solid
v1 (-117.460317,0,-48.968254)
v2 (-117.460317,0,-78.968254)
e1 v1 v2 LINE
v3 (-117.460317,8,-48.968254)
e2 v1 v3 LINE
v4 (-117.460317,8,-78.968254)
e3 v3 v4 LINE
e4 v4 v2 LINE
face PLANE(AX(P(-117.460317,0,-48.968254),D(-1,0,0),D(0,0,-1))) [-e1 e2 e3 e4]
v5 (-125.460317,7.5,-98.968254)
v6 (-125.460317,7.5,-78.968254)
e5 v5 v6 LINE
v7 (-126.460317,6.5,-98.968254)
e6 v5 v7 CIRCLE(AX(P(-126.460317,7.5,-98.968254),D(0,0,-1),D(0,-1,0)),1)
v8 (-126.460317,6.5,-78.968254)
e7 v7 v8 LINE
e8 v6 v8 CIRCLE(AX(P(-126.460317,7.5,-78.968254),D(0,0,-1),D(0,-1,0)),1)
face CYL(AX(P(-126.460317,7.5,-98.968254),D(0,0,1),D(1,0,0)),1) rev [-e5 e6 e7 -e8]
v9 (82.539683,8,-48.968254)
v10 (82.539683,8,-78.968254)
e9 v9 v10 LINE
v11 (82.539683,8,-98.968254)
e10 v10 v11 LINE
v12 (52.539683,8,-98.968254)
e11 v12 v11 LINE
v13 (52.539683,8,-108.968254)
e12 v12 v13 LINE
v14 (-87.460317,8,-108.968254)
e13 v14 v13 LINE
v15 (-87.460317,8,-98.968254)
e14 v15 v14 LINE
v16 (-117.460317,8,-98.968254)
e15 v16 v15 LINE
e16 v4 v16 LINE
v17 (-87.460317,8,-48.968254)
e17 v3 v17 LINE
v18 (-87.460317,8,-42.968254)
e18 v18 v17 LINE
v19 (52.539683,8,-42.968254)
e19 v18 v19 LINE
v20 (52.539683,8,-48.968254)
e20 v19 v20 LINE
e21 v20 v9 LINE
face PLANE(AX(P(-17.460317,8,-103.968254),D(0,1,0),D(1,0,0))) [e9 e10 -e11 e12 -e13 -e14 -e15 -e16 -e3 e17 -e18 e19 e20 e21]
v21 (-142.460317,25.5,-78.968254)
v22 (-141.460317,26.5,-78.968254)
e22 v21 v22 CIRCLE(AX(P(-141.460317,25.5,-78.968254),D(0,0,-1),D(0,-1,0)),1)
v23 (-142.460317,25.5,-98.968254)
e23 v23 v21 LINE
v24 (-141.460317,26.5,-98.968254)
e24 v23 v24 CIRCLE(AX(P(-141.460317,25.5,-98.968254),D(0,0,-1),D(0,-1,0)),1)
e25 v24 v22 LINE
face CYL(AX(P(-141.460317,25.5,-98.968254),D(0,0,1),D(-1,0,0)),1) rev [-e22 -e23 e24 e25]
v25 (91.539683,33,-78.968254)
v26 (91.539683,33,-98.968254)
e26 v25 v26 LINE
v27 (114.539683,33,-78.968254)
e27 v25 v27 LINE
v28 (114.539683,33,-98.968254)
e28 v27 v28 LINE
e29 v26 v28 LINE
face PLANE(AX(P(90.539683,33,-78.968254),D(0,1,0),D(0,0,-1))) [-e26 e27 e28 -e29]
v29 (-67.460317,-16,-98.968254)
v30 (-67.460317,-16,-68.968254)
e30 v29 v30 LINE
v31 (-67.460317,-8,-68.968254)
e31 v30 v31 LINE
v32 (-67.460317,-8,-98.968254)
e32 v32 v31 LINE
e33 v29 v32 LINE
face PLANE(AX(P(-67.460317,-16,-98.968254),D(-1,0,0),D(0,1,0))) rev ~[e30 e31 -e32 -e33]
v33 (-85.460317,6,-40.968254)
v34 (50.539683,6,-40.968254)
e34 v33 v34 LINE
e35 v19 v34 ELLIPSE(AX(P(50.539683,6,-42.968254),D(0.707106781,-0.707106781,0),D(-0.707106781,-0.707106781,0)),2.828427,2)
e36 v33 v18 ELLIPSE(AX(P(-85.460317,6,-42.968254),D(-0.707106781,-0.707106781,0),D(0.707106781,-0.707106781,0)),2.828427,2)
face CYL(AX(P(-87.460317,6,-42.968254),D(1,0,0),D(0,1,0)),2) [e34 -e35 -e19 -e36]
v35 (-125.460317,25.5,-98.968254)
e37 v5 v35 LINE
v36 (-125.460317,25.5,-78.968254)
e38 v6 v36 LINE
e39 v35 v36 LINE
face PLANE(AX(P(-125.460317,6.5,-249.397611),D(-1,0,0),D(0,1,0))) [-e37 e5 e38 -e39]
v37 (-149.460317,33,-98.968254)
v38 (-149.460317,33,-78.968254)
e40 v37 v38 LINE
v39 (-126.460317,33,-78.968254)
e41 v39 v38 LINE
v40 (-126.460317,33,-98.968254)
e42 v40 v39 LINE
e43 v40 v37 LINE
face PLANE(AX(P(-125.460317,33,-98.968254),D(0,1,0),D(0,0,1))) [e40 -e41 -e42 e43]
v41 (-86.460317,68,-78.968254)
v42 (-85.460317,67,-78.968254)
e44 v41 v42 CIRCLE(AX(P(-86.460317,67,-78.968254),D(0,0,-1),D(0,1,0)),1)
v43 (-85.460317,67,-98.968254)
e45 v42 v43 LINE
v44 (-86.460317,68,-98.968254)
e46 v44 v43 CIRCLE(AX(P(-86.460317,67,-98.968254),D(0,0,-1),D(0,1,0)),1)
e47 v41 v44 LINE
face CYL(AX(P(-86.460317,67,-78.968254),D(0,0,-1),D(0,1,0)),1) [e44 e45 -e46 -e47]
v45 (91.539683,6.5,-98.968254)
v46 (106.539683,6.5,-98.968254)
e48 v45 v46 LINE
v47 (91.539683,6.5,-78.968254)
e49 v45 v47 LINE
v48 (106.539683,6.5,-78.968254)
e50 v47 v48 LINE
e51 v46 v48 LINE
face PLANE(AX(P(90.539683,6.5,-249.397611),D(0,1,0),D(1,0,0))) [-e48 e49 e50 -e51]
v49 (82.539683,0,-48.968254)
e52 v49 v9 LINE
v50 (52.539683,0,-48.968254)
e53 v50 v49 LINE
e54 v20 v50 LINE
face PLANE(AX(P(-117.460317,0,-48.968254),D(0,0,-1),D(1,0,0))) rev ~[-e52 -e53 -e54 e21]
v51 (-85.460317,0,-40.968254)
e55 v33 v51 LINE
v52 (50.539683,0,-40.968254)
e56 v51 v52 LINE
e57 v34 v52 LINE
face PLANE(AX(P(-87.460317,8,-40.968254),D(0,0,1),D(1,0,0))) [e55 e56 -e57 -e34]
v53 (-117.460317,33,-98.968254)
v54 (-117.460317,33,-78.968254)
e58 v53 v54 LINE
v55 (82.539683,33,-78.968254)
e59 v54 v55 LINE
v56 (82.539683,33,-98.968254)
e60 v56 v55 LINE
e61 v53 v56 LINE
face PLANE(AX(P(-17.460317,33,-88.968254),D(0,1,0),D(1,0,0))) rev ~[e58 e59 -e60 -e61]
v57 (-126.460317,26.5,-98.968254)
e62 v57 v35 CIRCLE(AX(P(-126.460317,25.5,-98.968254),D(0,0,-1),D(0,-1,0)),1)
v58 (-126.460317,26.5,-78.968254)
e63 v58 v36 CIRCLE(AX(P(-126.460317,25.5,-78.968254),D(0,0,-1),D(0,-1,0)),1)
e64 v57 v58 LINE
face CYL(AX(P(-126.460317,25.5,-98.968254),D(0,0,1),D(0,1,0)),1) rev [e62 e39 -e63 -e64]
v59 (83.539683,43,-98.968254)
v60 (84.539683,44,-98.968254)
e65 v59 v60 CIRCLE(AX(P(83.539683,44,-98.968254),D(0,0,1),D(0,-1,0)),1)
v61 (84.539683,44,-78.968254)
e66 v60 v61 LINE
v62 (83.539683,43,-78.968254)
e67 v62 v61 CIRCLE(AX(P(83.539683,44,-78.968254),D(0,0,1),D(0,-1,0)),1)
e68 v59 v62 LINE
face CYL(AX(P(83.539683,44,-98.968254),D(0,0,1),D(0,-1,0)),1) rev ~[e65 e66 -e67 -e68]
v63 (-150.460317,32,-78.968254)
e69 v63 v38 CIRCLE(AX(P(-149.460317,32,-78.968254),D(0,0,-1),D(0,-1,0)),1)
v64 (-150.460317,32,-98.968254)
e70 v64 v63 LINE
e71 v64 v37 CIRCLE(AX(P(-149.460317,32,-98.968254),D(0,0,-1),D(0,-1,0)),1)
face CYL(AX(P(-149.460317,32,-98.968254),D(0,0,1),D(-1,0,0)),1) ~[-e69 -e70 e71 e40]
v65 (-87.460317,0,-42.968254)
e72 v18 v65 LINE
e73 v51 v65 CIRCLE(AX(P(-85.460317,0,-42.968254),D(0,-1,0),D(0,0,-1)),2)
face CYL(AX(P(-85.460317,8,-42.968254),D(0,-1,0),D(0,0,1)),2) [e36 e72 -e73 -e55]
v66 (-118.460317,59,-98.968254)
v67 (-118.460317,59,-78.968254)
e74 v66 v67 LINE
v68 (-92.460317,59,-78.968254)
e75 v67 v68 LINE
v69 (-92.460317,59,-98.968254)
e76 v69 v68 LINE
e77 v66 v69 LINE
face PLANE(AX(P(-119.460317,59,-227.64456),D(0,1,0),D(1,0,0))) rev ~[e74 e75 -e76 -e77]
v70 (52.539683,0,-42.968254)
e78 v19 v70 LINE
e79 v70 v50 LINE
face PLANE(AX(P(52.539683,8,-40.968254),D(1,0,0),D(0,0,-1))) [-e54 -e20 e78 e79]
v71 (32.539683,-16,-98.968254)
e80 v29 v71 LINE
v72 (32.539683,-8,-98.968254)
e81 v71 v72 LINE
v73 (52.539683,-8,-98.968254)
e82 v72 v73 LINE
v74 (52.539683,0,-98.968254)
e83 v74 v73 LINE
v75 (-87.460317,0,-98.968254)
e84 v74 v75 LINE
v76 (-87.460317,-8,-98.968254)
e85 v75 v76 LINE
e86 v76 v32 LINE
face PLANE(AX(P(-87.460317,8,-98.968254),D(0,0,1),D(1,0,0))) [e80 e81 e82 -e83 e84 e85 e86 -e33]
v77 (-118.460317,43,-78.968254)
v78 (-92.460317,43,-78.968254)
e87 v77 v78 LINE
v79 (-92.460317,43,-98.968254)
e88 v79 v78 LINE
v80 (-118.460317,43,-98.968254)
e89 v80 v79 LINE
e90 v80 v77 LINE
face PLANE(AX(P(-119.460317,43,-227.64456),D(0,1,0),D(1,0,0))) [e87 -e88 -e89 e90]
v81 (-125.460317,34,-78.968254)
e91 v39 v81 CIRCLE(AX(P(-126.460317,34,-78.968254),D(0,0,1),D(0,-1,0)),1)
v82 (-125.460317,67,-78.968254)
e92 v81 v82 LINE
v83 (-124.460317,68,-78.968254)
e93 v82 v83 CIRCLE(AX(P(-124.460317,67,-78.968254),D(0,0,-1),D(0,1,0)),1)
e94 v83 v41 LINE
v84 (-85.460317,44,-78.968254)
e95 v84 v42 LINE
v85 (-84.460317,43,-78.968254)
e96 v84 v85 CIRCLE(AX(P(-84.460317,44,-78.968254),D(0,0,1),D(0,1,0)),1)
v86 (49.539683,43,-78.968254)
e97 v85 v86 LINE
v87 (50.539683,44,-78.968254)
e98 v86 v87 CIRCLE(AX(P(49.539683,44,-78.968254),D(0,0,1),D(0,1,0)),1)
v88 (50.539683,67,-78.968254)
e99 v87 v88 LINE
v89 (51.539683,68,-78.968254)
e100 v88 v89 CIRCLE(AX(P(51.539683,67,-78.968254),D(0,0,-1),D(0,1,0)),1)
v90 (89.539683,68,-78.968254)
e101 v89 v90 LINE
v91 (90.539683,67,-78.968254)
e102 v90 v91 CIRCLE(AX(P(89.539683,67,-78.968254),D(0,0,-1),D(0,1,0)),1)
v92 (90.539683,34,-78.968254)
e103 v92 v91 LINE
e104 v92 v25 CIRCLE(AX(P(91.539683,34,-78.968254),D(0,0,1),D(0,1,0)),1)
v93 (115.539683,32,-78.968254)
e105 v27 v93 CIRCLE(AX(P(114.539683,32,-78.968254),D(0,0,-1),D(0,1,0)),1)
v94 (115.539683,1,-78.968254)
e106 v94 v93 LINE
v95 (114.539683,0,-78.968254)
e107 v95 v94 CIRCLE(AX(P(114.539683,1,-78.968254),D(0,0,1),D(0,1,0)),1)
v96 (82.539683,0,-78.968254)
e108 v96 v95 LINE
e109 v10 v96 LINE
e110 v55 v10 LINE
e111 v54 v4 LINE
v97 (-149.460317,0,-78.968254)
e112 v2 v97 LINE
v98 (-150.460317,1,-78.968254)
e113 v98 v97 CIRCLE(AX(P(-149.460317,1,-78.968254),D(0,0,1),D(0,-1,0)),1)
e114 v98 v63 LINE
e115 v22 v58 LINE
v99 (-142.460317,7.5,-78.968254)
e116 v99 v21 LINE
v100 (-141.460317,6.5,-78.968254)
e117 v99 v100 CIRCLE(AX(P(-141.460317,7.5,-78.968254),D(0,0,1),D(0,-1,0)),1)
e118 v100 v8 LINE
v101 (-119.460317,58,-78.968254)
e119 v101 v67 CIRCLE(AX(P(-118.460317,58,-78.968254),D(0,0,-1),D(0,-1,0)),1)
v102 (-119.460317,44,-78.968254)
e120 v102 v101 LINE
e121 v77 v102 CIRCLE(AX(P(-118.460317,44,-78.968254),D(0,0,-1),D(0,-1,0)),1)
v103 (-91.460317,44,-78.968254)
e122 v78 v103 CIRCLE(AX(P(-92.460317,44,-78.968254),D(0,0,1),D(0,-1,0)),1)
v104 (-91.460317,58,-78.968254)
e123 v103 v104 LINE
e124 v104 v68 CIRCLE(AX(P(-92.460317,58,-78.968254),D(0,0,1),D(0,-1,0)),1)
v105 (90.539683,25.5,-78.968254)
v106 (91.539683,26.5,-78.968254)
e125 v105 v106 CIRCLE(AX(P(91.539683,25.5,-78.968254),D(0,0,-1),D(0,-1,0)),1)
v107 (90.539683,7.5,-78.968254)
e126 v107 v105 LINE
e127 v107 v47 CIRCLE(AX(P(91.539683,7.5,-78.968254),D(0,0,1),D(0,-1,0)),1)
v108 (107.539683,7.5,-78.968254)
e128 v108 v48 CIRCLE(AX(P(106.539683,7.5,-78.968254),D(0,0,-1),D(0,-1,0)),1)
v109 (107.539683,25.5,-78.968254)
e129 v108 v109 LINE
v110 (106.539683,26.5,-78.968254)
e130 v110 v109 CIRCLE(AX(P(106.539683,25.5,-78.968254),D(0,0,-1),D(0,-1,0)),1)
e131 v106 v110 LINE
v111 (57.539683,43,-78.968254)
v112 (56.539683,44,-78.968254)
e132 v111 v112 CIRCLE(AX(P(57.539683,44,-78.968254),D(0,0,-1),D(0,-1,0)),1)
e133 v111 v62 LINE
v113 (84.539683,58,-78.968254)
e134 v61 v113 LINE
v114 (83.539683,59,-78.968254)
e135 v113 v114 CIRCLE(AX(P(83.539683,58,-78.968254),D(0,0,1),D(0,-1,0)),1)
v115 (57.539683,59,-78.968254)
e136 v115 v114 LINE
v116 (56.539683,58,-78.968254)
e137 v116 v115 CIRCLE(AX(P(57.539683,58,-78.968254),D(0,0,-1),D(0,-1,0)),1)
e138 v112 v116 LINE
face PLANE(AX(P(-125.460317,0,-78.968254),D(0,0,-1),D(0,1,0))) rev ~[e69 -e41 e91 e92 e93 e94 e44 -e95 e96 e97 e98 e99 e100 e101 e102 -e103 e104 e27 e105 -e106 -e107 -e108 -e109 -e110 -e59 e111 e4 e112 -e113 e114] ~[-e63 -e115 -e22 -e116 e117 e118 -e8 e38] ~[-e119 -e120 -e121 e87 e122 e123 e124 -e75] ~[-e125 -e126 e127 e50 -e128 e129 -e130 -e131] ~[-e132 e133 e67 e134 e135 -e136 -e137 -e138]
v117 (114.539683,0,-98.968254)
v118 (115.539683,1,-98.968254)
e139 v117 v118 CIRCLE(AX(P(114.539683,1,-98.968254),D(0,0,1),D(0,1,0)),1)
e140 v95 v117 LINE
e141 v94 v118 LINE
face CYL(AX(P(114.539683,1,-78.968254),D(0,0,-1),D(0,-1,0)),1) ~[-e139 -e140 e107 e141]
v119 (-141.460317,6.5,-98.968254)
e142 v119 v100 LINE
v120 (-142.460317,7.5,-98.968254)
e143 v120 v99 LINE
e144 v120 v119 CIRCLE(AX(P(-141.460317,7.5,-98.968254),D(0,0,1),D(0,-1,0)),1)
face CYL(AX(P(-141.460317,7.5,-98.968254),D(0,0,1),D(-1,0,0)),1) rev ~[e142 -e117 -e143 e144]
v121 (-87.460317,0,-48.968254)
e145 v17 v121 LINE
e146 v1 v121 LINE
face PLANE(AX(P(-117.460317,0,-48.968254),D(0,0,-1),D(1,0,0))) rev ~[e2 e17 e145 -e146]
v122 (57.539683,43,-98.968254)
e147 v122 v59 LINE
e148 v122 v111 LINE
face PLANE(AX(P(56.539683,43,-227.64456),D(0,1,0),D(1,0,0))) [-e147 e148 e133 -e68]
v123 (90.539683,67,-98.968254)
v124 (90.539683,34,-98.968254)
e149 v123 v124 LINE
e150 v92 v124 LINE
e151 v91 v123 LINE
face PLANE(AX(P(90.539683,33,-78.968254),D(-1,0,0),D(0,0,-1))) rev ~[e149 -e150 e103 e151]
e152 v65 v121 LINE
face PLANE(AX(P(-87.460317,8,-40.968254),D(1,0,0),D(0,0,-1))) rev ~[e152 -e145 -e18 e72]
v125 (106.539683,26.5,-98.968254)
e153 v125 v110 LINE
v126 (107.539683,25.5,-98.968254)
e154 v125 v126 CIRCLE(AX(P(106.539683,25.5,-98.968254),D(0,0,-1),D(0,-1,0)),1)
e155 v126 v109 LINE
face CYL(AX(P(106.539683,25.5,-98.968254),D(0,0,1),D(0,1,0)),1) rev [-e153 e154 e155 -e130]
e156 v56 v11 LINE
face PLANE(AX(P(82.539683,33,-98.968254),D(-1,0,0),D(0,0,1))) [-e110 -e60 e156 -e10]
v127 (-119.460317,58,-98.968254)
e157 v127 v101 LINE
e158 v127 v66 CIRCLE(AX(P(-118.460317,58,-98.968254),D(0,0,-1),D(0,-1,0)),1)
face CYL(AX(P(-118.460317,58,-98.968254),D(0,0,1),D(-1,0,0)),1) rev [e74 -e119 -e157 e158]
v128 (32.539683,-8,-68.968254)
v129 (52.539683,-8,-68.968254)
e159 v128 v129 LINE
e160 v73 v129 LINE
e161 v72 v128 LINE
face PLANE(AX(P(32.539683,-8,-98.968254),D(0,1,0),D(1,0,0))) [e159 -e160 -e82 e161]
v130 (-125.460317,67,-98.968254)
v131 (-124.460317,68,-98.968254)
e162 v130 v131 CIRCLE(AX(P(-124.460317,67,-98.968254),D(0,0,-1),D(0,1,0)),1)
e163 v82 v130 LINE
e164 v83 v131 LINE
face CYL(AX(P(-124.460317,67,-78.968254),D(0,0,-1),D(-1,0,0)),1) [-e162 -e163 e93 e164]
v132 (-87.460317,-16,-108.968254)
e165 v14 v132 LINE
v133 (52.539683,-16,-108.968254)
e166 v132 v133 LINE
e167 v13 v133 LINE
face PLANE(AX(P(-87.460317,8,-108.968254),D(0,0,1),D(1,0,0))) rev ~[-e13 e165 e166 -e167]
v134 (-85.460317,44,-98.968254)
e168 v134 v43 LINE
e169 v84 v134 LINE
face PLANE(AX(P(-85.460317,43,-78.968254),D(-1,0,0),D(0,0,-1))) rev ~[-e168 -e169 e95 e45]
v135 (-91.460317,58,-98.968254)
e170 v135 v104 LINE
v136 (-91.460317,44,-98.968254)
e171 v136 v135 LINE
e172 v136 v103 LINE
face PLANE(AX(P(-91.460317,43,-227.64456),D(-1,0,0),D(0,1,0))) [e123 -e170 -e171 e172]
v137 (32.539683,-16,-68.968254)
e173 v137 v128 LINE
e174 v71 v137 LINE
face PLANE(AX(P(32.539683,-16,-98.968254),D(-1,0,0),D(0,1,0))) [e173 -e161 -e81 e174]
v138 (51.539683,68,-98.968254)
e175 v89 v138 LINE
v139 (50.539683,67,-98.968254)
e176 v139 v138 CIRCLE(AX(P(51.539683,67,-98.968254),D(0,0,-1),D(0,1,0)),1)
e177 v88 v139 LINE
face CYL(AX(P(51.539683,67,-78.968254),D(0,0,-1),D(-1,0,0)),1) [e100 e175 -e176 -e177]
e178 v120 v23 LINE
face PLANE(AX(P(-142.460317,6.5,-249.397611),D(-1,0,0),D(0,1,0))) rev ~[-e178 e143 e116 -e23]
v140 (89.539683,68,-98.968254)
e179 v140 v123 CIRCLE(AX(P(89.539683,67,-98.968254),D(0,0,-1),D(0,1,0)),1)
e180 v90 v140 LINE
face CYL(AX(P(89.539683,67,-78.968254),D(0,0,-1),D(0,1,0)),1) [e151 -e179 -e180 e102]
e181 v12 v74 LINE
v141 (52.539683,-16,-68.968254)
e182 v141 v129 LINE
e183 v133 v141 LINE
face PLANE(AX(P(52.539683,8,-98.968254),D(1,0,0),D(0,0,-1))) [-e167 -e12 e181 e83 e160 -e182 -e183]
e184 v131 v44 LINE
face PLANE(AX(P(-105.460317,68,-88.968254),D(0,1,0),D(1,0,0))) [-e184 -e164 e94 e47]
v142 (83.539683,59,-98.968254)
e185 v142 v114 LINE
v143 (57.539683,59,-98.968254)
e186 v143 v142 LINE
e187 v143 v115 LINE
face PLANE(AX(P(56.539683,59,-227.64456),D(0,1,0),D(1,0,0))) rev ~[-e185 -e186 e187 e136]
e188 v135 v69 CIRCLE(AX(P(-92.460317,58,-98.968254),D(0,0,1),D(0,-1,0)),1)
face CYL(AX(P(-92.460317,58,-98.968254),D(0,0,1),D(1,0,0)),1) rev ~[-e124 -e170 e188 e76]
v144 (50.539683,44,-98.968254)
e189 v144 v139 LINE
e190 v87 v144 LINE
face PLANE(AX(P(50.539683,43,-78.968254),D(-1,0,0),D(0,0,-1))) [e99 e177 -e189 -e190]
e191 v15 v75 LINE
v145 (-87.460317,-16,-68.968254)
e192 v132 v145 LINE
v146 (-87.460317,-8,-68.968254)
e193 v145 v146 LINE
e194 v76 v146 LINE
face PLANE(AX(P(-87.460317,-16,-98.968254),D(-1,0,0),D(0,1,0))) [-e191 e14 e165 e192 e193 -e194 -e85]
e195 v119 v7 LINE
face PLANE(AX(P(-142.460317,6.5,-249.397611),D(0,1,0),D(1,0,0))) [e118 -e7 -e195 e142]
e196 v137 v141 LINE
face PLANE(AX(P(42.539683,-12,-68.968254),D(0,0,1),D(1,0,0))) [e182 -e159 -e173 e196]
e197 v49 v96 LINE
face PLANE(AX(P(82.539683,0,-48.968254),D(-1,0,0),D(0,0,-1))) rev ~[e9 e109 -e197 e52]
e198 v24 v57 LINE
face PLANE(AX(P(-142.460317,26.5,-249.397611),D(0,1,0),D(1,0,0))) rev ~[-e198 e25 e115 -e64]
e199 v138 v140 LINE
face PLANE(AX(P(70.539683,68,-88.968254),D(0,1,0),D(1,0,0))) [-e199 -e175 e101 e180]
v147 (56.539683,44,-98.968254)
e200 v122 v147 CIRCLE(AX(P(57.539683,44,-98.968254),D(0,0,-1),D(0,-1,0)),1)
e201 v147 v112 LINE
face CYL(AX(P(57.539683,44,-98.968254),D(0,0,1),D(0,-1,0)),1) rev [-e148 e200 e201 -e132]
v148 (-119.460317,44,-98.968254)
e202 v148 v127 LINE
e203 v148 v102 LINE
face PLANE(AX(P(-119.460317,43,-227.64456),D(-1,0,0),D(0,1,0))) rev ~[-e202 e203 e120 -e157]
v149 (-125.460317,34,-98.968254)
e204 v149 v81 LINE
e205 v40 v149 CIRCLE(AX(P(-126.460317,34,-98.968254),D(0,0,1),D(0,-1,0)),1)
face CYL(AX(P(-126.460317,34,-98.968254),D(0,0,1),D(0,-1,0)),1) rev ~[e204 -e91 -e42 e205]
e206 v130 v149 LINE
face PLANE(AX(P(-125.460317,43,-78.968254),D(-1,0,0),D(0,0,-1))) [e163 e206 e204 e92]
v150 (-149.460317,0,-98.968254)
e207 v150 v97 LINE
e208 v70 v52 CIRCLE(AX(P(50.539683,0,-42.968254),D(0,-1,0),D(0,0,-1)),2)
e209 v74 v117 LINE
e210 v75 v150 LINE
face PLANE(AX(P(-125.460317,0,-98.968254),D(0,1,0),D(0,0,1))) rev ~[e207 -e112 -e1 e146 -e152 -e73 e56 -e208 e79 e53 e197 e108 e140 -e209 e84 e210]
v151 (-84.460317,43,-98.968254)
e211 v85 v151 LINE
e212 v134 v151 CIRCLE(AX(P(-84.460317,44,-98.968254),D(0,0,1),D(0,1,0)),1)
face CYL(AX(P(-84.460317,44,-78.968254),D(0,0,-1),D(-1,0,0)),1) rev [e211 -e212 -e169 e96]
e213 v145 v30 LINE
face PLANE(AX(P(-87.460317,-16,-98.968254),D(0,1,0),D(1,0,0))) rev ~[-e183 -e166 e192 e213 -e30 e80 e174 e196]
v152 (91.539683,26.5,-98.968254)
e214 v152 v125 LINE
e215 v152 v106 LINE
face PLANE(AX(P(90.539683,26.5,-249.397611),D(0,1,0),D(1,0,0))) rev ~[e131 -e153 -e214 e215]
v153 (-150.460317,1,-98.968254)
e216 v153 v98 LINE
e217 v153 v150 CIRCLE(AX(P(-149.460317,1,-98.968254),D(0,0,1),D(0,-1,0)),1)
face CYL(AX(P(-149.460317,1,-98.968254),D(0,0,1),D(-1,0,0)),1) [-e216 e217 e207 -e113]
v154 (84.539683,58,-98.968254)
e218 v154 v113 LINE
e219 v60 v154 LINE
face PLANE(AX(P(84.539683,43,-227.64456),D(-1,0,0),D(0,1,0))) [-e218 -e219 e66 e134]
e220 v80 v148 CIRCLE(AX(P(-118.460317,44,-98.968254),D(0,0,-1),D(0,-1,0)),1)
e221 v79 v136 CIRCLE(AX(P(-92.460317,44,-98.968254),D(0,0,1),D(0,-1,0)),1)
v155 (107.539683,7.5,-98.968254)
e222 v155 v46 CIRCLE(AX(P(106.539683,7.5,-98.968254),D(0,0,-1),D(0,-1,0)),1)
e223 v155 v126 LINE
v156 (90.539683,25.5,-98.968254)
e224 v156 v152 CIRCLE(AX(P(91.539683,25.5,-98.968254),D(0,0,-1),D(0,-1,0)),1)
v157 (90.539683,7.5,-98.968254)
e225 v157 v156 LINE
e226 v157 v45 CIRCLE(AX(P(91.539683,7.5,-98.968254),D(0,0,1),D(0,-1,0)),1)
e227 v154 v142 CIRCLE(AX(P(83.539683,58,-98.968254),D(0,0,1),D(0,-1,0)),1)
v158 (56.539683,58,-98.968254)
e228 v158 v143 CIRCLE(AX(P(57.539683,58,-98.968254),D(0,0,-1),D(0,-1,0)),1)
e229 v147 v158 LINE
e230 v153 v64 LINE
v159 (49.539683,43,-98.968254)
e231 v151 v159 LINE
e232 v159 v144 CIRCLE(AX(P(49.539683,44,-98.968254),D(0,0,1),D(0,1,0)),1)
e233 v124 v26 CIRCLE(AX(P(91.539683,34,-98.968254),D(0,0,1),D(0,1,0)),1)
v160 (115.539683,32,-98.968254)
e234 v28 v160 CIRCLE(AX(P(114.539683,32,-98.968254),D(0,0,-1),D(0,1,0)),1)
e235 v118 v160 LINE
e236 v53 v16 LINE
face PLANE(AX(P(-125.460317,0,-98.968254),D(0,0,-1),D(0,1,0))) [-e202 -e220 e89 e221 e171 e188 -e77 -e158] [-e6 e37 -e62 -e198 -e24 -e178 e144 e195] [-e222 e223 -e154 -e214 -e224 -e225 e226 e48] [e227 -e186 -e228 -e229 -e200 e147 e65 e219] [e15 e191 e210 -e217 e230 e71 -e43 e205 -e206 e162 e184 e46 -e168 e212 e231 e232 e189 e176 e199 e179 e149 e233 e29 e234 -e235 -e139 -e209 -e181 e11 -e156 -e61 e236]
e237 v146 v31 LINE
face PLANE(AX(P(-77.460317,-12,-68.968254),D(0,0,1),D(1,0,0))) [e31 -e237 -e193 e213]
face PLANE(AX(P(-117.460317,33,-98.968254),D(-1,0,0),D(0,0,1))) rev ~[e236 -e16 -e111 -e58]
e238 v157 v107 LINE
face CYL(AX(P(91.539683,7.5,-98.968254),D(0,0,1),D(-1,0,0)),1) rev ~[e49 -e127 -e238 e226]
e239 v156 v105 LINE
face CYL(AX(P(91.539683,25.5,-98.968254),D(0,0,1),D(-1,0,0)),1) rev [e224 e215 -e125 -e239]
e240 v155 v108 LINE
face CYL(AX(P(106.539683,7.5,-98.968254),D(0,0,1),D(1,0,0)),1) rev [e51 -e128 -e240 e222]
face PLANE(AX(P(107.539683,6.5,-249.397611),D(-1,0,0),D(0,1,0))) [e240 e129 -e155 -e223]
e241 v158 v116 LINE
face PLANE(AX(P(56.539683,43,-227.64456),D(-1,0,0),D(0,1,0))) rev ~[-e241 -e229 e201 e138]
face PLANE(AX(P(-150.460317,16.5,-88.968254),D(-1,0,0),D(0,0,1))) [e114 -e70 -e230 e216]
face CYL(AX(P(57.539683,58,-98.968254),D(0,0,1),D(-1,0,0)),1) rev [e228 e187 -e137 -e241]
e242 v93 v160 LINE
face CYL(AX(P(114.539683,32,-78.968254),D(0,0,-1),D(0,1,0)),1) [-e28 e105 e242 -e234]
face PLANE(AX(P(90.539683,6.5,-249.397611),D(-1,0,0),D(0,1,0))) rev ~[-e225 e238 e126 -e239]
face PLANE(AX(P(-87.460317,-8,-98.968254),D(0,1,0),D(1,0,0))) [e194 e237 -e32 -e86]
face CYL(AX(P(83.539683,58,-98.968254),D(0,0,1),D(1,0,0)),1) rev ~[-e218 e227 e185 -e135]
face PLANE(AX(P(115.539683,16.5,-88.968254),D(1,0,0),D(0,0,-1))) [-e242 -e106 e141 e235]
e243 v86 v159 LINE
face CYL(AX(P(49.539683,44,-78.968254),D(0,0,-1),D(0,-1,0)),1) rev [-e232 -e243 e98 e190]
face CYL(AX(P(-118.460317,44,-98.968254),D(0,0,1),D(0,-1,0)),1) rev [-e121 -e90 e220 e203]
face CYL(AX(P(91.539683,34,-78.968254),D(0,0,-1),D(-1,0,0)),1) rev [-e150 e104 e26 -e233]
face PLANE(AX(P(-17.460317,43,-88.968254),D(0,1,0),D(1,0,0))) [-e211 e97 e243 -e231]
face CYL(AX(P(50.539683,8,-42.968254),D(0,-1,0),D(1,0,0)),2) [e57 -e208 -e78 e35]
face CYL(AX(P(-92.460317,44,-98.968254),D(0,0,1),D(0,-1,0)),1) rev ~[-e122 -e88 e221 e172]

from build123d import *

# Parameters (mm, degrees)
SKETCH_2_W               = 200
SKETCH_2_H               = 50
EXTRUDE_1_DEPTH          = 8
SKETCH_5_W               = 8
SKETCH_5_H               = 20
EXTRUDE_6_DEPTH          = 33
SKETCH_7_W               = 216
SKETCH_7_H               = 20
EXTRUDE_7_DEPTH          = 10
SKETCH_8_W               = 140
SKETCH_8_H               = 8
EXTRUDE_8_DEPTH          = 8
SKETCH_9_W               = 140
SKETCH_9_H               = 10
EXTRUDE_9_DEPTH          = 24
SKETCH_10_W              = 20
SKETCH_10_H              = 8
EXTRUDE_10_DEPTH         = 30
FILLET_1_R               = 2
SKETCH_11_W              = 40
SKETCH_11_H              = 20
EXTRUDE_11_DEPTH         = 25
CUT_EXTRUDE_1_DEPTH      = 148.676305673
CUT_EXTRUDE_1_DEPTH_BACK = 148.676305673
SKETCH_12_W              = 28
SKETCH_12_H              = 16
SKETCH_13_W              = 20
SKETCH_13_H              = 33
EXTRUDE_12_DEPTH         = 25
SKETCH_14_W              = 20
SKETCH_14_H              = 33
EXTRUDE_13_DEPTH         = 25
CUT_EXTRUDE_2_DEPTH      = 170.429357345
CUT_EXTRUDE_2_DEPTH_BACK = 170.429357345
SKETCH_15_W              = 17
SKETCH_15_H              = 20
FILLET_2_R               = 1


with BuildPart() as part:
    # 스케치2 → 보스-돌출1 (new body)
    with BuildSketch(Plane(origin=(0, 0, 0), x_dir=(1, 0, 0), z_dir=(0, 1, 0))):
        with Locations((-17.46031746, 73.968253968)):
            Rectangle(SKETCH_2_W, SKETCH_2_H)
    extrude(amount=EXTRUDE_1_DEPTH)

    # 스케치5 → 보스-돌출6 (add)
    with BuildSketch(Plane.XZ.offset(-33)):
        with Locations((-121.46031746, -88.968253968)):
            Rectangle(SKETCH_5_W, SKETCH_5_H)
        with Locations((86.53968254, -88.968253968)):
            Rectangle(SKETCH_5_W, SKETCH_5_H)
    extrude(amount=EXTRUDE_6_DEPTH)

    # 스케치7 → 보스-돌출7 (add)
    with BuildSketch(Plane(origin=(0, 33, 0), x_dir=(1, 0, 0), z_dir=(0, 1, 0))):
        with Locations((-17.46031746, 88.968253968)):
            Rectangle(SKETCH_7_W, SKETCH_7_H)
    extrude(amount=EXTRUDE_7_DEPTH)

    # 스케치8 → 보스-돌출8 (add)
    with BuildSketch(Plane(origin=(0, 8, 0), x_dir=(1, 0, 0), z_dir=(0, 1, 0))):
        with Locations((-17.46031746, 44.968253968)):
            Rectangle(SKETCH_8_W, SKETCH_8_H)
    extrude(amount=-EXTRUDE_8_DEPTH)

    # 스케치9 → 보스-돌출9 (add)
    with BuildSketch(Plane(origin=(0, 8, 0), x_dir=(1, 0, 0), z_dir=(0, 1, 0))):
        with Locations((-17.46031746, 103.968253968)):
            Rectangle(SKETCH_9_W, SKETCH_9_H)
    extrude(amount=-EXTRUDE_9_DEPTH)

    # 스케치10 → 보스-돌출10 (add)
    with BuildSketch(Plane.XY.offset(-98.968253968)):
        with Locations((-77.46031746, -12)):
            Rectangle(SKETCH_10_W, SKETCH_10_H)
        with Locations((42.53968254, -12)):
            Rectangle(SKETCH_10_W, SKETCH_10_H)
    extrude(amount=EXTRUDE_10_DEPTH)

    # 필렛1
    fillet_1_edges = [part.edges().sort_by_distance(p)[0] for p in [
        (-87.46031746, 4, -40.968253968),
        (52.53968254, 4, -40.968253968),
        (-17.46031746, 8, -40.968253968),
    ]]
    fillet(fillet_1_edges, radius=FILLET_1_R)

    # 스케치11 → 보스-돌출11 (add)
    with BuildSketch(Plane(origin=(0, 43, 0), x_dir=(1, 0, 0), z_dir=(0, 1, 0))):
        with Locations((-105.46031746, 88.968253968)):
            Rectangle(SKETCH_11_W, SKETCH_11_H)
        with Locations((70.53968254, 88.968253968)):
            Rectangle(SKETCH_11_W, SKETCH_11_H)
    extrude(amount=EXTRUDE_11_DEPTH)

    # 스케치12 → 컷-돌출1 (cut, two sides: drawn at the far end of the back side and taken through both)
    with BuildSketch(Plane.XY.offset(-78.968253968).offset(-CUT_EXTRUDE_1_DEPTH_BACK)):
        with Locations((-105.46031746, 51)):
            Rectangle(SKETCH_12_W, SKETCH_12_H)
        with Locations((70.53968254, 51)):
            Rectangle(SKETCH_12_W, SKETCH_12_H)
    extrude(amount=CUT_EXTRUDE_1_DEPTH + CUT_EXTRUDE_1_DEPTH_BACK, mode=Mode.SUBTRACT)

    # 스케치13 → 보스-돌출12 (add)
    with BuildSketch(Plane(origin=(90.53968254, 0, 0), x_dir=(0, 0, -1), z_dir=(1, 0, 0))):
        with Locations((88.968253968, 16.5)):
            Rectangle(SKETCH_13_W, SKETCH_13_H)
    extrude(amount=EXTRUDE_12_DEPTH)

    # 스케치14 → 보스-돌출13 (add)
    with BuildSketch(Plane.ZY.offset(125.46031746)):
        with Locations((-88.968253968, 16.5)):
            Rectangle(SKETCH_14_W, SKETCH_14_H)
    extrude(amount=EXTRUDE_13_DEPTH)

    # 스케치15 → 컷-돌출2 (cut, two sides: drawn at the far end of the back side and taken through both)
    with BuildSketch(Plane.XY.offset(-78.968253968).offset(-CUT_EXTRUDE_2_DEPTH_BACK)):
        with Locations((-133.96031746, 16.5)):
            Rectangle(SKETCH_15_W, SKETCH_15_H)
        with Locations((99.03968254, 16.5)):
            Rectangle(SKETCH_15_W, SKETCH_15_H)
    extrude(amount=CUT_EXTRUDE_2_DEPTH + CUT_EXTRUDE_2_DEPTH_BACK, mode=Mode.SUBTRACT)

    # 필렛2
    fillet_2_edges = [part.edges().sort_by_distance(p)[0] for p in [
        (-85.46031746, 43, -88.968253968),
        (-125.46031746, 68, -88.968253968),
        (-85.46031746, 68, -88.968253968),
        (50.53968254, 43, -88.968253968),
        (50.53968254, 68, -88.968253968),
        (90.53968254, 68, -88.968253968),
        (-91.46031746, 59, -88.968253968),
        (-91.46031746, 43, -88.968253968),
        (-119.46031746, 43, -88.968253968),
        (-119.46031746, 59, -88.968253968),
        (84.53968254, 59, -88.968253968),
        (84.53968254, 43, -88.968253968),
        (56.53968254, 43, -88.968253968),
        (56.53968254, 59, -88.968253968),
        (90.53968254, 33, -88.968253968),
        (115.53968254, 0, -88.968253968),
        (115.53968254, 33, -88.968253968),
        (-125.46031746, 33, -88.968253968),
        (-150.46031746, 0, -88.968253968),
        (-150.46031746, 33, -88.968253968),
        (-142.46031746, 6.5, -88.968253968),
        (-142.46031746, 26.5, -88.968253968),
        (-125.46031746, 26.5, -88.968253968),
        (-125.46031746, 6.5, -88.968253968),
        (90.53968254, 6.5, -88.968253968),
        (90.53968254, 26.5, -88.968253968),
        (107.53968254, 26.5, -88.968253968),
        (107.53968254, 6.5, -88.968253968),
    ]]
    fillet(fillet_2_edges, radius=FILLET_2_R)


solid = part.part
